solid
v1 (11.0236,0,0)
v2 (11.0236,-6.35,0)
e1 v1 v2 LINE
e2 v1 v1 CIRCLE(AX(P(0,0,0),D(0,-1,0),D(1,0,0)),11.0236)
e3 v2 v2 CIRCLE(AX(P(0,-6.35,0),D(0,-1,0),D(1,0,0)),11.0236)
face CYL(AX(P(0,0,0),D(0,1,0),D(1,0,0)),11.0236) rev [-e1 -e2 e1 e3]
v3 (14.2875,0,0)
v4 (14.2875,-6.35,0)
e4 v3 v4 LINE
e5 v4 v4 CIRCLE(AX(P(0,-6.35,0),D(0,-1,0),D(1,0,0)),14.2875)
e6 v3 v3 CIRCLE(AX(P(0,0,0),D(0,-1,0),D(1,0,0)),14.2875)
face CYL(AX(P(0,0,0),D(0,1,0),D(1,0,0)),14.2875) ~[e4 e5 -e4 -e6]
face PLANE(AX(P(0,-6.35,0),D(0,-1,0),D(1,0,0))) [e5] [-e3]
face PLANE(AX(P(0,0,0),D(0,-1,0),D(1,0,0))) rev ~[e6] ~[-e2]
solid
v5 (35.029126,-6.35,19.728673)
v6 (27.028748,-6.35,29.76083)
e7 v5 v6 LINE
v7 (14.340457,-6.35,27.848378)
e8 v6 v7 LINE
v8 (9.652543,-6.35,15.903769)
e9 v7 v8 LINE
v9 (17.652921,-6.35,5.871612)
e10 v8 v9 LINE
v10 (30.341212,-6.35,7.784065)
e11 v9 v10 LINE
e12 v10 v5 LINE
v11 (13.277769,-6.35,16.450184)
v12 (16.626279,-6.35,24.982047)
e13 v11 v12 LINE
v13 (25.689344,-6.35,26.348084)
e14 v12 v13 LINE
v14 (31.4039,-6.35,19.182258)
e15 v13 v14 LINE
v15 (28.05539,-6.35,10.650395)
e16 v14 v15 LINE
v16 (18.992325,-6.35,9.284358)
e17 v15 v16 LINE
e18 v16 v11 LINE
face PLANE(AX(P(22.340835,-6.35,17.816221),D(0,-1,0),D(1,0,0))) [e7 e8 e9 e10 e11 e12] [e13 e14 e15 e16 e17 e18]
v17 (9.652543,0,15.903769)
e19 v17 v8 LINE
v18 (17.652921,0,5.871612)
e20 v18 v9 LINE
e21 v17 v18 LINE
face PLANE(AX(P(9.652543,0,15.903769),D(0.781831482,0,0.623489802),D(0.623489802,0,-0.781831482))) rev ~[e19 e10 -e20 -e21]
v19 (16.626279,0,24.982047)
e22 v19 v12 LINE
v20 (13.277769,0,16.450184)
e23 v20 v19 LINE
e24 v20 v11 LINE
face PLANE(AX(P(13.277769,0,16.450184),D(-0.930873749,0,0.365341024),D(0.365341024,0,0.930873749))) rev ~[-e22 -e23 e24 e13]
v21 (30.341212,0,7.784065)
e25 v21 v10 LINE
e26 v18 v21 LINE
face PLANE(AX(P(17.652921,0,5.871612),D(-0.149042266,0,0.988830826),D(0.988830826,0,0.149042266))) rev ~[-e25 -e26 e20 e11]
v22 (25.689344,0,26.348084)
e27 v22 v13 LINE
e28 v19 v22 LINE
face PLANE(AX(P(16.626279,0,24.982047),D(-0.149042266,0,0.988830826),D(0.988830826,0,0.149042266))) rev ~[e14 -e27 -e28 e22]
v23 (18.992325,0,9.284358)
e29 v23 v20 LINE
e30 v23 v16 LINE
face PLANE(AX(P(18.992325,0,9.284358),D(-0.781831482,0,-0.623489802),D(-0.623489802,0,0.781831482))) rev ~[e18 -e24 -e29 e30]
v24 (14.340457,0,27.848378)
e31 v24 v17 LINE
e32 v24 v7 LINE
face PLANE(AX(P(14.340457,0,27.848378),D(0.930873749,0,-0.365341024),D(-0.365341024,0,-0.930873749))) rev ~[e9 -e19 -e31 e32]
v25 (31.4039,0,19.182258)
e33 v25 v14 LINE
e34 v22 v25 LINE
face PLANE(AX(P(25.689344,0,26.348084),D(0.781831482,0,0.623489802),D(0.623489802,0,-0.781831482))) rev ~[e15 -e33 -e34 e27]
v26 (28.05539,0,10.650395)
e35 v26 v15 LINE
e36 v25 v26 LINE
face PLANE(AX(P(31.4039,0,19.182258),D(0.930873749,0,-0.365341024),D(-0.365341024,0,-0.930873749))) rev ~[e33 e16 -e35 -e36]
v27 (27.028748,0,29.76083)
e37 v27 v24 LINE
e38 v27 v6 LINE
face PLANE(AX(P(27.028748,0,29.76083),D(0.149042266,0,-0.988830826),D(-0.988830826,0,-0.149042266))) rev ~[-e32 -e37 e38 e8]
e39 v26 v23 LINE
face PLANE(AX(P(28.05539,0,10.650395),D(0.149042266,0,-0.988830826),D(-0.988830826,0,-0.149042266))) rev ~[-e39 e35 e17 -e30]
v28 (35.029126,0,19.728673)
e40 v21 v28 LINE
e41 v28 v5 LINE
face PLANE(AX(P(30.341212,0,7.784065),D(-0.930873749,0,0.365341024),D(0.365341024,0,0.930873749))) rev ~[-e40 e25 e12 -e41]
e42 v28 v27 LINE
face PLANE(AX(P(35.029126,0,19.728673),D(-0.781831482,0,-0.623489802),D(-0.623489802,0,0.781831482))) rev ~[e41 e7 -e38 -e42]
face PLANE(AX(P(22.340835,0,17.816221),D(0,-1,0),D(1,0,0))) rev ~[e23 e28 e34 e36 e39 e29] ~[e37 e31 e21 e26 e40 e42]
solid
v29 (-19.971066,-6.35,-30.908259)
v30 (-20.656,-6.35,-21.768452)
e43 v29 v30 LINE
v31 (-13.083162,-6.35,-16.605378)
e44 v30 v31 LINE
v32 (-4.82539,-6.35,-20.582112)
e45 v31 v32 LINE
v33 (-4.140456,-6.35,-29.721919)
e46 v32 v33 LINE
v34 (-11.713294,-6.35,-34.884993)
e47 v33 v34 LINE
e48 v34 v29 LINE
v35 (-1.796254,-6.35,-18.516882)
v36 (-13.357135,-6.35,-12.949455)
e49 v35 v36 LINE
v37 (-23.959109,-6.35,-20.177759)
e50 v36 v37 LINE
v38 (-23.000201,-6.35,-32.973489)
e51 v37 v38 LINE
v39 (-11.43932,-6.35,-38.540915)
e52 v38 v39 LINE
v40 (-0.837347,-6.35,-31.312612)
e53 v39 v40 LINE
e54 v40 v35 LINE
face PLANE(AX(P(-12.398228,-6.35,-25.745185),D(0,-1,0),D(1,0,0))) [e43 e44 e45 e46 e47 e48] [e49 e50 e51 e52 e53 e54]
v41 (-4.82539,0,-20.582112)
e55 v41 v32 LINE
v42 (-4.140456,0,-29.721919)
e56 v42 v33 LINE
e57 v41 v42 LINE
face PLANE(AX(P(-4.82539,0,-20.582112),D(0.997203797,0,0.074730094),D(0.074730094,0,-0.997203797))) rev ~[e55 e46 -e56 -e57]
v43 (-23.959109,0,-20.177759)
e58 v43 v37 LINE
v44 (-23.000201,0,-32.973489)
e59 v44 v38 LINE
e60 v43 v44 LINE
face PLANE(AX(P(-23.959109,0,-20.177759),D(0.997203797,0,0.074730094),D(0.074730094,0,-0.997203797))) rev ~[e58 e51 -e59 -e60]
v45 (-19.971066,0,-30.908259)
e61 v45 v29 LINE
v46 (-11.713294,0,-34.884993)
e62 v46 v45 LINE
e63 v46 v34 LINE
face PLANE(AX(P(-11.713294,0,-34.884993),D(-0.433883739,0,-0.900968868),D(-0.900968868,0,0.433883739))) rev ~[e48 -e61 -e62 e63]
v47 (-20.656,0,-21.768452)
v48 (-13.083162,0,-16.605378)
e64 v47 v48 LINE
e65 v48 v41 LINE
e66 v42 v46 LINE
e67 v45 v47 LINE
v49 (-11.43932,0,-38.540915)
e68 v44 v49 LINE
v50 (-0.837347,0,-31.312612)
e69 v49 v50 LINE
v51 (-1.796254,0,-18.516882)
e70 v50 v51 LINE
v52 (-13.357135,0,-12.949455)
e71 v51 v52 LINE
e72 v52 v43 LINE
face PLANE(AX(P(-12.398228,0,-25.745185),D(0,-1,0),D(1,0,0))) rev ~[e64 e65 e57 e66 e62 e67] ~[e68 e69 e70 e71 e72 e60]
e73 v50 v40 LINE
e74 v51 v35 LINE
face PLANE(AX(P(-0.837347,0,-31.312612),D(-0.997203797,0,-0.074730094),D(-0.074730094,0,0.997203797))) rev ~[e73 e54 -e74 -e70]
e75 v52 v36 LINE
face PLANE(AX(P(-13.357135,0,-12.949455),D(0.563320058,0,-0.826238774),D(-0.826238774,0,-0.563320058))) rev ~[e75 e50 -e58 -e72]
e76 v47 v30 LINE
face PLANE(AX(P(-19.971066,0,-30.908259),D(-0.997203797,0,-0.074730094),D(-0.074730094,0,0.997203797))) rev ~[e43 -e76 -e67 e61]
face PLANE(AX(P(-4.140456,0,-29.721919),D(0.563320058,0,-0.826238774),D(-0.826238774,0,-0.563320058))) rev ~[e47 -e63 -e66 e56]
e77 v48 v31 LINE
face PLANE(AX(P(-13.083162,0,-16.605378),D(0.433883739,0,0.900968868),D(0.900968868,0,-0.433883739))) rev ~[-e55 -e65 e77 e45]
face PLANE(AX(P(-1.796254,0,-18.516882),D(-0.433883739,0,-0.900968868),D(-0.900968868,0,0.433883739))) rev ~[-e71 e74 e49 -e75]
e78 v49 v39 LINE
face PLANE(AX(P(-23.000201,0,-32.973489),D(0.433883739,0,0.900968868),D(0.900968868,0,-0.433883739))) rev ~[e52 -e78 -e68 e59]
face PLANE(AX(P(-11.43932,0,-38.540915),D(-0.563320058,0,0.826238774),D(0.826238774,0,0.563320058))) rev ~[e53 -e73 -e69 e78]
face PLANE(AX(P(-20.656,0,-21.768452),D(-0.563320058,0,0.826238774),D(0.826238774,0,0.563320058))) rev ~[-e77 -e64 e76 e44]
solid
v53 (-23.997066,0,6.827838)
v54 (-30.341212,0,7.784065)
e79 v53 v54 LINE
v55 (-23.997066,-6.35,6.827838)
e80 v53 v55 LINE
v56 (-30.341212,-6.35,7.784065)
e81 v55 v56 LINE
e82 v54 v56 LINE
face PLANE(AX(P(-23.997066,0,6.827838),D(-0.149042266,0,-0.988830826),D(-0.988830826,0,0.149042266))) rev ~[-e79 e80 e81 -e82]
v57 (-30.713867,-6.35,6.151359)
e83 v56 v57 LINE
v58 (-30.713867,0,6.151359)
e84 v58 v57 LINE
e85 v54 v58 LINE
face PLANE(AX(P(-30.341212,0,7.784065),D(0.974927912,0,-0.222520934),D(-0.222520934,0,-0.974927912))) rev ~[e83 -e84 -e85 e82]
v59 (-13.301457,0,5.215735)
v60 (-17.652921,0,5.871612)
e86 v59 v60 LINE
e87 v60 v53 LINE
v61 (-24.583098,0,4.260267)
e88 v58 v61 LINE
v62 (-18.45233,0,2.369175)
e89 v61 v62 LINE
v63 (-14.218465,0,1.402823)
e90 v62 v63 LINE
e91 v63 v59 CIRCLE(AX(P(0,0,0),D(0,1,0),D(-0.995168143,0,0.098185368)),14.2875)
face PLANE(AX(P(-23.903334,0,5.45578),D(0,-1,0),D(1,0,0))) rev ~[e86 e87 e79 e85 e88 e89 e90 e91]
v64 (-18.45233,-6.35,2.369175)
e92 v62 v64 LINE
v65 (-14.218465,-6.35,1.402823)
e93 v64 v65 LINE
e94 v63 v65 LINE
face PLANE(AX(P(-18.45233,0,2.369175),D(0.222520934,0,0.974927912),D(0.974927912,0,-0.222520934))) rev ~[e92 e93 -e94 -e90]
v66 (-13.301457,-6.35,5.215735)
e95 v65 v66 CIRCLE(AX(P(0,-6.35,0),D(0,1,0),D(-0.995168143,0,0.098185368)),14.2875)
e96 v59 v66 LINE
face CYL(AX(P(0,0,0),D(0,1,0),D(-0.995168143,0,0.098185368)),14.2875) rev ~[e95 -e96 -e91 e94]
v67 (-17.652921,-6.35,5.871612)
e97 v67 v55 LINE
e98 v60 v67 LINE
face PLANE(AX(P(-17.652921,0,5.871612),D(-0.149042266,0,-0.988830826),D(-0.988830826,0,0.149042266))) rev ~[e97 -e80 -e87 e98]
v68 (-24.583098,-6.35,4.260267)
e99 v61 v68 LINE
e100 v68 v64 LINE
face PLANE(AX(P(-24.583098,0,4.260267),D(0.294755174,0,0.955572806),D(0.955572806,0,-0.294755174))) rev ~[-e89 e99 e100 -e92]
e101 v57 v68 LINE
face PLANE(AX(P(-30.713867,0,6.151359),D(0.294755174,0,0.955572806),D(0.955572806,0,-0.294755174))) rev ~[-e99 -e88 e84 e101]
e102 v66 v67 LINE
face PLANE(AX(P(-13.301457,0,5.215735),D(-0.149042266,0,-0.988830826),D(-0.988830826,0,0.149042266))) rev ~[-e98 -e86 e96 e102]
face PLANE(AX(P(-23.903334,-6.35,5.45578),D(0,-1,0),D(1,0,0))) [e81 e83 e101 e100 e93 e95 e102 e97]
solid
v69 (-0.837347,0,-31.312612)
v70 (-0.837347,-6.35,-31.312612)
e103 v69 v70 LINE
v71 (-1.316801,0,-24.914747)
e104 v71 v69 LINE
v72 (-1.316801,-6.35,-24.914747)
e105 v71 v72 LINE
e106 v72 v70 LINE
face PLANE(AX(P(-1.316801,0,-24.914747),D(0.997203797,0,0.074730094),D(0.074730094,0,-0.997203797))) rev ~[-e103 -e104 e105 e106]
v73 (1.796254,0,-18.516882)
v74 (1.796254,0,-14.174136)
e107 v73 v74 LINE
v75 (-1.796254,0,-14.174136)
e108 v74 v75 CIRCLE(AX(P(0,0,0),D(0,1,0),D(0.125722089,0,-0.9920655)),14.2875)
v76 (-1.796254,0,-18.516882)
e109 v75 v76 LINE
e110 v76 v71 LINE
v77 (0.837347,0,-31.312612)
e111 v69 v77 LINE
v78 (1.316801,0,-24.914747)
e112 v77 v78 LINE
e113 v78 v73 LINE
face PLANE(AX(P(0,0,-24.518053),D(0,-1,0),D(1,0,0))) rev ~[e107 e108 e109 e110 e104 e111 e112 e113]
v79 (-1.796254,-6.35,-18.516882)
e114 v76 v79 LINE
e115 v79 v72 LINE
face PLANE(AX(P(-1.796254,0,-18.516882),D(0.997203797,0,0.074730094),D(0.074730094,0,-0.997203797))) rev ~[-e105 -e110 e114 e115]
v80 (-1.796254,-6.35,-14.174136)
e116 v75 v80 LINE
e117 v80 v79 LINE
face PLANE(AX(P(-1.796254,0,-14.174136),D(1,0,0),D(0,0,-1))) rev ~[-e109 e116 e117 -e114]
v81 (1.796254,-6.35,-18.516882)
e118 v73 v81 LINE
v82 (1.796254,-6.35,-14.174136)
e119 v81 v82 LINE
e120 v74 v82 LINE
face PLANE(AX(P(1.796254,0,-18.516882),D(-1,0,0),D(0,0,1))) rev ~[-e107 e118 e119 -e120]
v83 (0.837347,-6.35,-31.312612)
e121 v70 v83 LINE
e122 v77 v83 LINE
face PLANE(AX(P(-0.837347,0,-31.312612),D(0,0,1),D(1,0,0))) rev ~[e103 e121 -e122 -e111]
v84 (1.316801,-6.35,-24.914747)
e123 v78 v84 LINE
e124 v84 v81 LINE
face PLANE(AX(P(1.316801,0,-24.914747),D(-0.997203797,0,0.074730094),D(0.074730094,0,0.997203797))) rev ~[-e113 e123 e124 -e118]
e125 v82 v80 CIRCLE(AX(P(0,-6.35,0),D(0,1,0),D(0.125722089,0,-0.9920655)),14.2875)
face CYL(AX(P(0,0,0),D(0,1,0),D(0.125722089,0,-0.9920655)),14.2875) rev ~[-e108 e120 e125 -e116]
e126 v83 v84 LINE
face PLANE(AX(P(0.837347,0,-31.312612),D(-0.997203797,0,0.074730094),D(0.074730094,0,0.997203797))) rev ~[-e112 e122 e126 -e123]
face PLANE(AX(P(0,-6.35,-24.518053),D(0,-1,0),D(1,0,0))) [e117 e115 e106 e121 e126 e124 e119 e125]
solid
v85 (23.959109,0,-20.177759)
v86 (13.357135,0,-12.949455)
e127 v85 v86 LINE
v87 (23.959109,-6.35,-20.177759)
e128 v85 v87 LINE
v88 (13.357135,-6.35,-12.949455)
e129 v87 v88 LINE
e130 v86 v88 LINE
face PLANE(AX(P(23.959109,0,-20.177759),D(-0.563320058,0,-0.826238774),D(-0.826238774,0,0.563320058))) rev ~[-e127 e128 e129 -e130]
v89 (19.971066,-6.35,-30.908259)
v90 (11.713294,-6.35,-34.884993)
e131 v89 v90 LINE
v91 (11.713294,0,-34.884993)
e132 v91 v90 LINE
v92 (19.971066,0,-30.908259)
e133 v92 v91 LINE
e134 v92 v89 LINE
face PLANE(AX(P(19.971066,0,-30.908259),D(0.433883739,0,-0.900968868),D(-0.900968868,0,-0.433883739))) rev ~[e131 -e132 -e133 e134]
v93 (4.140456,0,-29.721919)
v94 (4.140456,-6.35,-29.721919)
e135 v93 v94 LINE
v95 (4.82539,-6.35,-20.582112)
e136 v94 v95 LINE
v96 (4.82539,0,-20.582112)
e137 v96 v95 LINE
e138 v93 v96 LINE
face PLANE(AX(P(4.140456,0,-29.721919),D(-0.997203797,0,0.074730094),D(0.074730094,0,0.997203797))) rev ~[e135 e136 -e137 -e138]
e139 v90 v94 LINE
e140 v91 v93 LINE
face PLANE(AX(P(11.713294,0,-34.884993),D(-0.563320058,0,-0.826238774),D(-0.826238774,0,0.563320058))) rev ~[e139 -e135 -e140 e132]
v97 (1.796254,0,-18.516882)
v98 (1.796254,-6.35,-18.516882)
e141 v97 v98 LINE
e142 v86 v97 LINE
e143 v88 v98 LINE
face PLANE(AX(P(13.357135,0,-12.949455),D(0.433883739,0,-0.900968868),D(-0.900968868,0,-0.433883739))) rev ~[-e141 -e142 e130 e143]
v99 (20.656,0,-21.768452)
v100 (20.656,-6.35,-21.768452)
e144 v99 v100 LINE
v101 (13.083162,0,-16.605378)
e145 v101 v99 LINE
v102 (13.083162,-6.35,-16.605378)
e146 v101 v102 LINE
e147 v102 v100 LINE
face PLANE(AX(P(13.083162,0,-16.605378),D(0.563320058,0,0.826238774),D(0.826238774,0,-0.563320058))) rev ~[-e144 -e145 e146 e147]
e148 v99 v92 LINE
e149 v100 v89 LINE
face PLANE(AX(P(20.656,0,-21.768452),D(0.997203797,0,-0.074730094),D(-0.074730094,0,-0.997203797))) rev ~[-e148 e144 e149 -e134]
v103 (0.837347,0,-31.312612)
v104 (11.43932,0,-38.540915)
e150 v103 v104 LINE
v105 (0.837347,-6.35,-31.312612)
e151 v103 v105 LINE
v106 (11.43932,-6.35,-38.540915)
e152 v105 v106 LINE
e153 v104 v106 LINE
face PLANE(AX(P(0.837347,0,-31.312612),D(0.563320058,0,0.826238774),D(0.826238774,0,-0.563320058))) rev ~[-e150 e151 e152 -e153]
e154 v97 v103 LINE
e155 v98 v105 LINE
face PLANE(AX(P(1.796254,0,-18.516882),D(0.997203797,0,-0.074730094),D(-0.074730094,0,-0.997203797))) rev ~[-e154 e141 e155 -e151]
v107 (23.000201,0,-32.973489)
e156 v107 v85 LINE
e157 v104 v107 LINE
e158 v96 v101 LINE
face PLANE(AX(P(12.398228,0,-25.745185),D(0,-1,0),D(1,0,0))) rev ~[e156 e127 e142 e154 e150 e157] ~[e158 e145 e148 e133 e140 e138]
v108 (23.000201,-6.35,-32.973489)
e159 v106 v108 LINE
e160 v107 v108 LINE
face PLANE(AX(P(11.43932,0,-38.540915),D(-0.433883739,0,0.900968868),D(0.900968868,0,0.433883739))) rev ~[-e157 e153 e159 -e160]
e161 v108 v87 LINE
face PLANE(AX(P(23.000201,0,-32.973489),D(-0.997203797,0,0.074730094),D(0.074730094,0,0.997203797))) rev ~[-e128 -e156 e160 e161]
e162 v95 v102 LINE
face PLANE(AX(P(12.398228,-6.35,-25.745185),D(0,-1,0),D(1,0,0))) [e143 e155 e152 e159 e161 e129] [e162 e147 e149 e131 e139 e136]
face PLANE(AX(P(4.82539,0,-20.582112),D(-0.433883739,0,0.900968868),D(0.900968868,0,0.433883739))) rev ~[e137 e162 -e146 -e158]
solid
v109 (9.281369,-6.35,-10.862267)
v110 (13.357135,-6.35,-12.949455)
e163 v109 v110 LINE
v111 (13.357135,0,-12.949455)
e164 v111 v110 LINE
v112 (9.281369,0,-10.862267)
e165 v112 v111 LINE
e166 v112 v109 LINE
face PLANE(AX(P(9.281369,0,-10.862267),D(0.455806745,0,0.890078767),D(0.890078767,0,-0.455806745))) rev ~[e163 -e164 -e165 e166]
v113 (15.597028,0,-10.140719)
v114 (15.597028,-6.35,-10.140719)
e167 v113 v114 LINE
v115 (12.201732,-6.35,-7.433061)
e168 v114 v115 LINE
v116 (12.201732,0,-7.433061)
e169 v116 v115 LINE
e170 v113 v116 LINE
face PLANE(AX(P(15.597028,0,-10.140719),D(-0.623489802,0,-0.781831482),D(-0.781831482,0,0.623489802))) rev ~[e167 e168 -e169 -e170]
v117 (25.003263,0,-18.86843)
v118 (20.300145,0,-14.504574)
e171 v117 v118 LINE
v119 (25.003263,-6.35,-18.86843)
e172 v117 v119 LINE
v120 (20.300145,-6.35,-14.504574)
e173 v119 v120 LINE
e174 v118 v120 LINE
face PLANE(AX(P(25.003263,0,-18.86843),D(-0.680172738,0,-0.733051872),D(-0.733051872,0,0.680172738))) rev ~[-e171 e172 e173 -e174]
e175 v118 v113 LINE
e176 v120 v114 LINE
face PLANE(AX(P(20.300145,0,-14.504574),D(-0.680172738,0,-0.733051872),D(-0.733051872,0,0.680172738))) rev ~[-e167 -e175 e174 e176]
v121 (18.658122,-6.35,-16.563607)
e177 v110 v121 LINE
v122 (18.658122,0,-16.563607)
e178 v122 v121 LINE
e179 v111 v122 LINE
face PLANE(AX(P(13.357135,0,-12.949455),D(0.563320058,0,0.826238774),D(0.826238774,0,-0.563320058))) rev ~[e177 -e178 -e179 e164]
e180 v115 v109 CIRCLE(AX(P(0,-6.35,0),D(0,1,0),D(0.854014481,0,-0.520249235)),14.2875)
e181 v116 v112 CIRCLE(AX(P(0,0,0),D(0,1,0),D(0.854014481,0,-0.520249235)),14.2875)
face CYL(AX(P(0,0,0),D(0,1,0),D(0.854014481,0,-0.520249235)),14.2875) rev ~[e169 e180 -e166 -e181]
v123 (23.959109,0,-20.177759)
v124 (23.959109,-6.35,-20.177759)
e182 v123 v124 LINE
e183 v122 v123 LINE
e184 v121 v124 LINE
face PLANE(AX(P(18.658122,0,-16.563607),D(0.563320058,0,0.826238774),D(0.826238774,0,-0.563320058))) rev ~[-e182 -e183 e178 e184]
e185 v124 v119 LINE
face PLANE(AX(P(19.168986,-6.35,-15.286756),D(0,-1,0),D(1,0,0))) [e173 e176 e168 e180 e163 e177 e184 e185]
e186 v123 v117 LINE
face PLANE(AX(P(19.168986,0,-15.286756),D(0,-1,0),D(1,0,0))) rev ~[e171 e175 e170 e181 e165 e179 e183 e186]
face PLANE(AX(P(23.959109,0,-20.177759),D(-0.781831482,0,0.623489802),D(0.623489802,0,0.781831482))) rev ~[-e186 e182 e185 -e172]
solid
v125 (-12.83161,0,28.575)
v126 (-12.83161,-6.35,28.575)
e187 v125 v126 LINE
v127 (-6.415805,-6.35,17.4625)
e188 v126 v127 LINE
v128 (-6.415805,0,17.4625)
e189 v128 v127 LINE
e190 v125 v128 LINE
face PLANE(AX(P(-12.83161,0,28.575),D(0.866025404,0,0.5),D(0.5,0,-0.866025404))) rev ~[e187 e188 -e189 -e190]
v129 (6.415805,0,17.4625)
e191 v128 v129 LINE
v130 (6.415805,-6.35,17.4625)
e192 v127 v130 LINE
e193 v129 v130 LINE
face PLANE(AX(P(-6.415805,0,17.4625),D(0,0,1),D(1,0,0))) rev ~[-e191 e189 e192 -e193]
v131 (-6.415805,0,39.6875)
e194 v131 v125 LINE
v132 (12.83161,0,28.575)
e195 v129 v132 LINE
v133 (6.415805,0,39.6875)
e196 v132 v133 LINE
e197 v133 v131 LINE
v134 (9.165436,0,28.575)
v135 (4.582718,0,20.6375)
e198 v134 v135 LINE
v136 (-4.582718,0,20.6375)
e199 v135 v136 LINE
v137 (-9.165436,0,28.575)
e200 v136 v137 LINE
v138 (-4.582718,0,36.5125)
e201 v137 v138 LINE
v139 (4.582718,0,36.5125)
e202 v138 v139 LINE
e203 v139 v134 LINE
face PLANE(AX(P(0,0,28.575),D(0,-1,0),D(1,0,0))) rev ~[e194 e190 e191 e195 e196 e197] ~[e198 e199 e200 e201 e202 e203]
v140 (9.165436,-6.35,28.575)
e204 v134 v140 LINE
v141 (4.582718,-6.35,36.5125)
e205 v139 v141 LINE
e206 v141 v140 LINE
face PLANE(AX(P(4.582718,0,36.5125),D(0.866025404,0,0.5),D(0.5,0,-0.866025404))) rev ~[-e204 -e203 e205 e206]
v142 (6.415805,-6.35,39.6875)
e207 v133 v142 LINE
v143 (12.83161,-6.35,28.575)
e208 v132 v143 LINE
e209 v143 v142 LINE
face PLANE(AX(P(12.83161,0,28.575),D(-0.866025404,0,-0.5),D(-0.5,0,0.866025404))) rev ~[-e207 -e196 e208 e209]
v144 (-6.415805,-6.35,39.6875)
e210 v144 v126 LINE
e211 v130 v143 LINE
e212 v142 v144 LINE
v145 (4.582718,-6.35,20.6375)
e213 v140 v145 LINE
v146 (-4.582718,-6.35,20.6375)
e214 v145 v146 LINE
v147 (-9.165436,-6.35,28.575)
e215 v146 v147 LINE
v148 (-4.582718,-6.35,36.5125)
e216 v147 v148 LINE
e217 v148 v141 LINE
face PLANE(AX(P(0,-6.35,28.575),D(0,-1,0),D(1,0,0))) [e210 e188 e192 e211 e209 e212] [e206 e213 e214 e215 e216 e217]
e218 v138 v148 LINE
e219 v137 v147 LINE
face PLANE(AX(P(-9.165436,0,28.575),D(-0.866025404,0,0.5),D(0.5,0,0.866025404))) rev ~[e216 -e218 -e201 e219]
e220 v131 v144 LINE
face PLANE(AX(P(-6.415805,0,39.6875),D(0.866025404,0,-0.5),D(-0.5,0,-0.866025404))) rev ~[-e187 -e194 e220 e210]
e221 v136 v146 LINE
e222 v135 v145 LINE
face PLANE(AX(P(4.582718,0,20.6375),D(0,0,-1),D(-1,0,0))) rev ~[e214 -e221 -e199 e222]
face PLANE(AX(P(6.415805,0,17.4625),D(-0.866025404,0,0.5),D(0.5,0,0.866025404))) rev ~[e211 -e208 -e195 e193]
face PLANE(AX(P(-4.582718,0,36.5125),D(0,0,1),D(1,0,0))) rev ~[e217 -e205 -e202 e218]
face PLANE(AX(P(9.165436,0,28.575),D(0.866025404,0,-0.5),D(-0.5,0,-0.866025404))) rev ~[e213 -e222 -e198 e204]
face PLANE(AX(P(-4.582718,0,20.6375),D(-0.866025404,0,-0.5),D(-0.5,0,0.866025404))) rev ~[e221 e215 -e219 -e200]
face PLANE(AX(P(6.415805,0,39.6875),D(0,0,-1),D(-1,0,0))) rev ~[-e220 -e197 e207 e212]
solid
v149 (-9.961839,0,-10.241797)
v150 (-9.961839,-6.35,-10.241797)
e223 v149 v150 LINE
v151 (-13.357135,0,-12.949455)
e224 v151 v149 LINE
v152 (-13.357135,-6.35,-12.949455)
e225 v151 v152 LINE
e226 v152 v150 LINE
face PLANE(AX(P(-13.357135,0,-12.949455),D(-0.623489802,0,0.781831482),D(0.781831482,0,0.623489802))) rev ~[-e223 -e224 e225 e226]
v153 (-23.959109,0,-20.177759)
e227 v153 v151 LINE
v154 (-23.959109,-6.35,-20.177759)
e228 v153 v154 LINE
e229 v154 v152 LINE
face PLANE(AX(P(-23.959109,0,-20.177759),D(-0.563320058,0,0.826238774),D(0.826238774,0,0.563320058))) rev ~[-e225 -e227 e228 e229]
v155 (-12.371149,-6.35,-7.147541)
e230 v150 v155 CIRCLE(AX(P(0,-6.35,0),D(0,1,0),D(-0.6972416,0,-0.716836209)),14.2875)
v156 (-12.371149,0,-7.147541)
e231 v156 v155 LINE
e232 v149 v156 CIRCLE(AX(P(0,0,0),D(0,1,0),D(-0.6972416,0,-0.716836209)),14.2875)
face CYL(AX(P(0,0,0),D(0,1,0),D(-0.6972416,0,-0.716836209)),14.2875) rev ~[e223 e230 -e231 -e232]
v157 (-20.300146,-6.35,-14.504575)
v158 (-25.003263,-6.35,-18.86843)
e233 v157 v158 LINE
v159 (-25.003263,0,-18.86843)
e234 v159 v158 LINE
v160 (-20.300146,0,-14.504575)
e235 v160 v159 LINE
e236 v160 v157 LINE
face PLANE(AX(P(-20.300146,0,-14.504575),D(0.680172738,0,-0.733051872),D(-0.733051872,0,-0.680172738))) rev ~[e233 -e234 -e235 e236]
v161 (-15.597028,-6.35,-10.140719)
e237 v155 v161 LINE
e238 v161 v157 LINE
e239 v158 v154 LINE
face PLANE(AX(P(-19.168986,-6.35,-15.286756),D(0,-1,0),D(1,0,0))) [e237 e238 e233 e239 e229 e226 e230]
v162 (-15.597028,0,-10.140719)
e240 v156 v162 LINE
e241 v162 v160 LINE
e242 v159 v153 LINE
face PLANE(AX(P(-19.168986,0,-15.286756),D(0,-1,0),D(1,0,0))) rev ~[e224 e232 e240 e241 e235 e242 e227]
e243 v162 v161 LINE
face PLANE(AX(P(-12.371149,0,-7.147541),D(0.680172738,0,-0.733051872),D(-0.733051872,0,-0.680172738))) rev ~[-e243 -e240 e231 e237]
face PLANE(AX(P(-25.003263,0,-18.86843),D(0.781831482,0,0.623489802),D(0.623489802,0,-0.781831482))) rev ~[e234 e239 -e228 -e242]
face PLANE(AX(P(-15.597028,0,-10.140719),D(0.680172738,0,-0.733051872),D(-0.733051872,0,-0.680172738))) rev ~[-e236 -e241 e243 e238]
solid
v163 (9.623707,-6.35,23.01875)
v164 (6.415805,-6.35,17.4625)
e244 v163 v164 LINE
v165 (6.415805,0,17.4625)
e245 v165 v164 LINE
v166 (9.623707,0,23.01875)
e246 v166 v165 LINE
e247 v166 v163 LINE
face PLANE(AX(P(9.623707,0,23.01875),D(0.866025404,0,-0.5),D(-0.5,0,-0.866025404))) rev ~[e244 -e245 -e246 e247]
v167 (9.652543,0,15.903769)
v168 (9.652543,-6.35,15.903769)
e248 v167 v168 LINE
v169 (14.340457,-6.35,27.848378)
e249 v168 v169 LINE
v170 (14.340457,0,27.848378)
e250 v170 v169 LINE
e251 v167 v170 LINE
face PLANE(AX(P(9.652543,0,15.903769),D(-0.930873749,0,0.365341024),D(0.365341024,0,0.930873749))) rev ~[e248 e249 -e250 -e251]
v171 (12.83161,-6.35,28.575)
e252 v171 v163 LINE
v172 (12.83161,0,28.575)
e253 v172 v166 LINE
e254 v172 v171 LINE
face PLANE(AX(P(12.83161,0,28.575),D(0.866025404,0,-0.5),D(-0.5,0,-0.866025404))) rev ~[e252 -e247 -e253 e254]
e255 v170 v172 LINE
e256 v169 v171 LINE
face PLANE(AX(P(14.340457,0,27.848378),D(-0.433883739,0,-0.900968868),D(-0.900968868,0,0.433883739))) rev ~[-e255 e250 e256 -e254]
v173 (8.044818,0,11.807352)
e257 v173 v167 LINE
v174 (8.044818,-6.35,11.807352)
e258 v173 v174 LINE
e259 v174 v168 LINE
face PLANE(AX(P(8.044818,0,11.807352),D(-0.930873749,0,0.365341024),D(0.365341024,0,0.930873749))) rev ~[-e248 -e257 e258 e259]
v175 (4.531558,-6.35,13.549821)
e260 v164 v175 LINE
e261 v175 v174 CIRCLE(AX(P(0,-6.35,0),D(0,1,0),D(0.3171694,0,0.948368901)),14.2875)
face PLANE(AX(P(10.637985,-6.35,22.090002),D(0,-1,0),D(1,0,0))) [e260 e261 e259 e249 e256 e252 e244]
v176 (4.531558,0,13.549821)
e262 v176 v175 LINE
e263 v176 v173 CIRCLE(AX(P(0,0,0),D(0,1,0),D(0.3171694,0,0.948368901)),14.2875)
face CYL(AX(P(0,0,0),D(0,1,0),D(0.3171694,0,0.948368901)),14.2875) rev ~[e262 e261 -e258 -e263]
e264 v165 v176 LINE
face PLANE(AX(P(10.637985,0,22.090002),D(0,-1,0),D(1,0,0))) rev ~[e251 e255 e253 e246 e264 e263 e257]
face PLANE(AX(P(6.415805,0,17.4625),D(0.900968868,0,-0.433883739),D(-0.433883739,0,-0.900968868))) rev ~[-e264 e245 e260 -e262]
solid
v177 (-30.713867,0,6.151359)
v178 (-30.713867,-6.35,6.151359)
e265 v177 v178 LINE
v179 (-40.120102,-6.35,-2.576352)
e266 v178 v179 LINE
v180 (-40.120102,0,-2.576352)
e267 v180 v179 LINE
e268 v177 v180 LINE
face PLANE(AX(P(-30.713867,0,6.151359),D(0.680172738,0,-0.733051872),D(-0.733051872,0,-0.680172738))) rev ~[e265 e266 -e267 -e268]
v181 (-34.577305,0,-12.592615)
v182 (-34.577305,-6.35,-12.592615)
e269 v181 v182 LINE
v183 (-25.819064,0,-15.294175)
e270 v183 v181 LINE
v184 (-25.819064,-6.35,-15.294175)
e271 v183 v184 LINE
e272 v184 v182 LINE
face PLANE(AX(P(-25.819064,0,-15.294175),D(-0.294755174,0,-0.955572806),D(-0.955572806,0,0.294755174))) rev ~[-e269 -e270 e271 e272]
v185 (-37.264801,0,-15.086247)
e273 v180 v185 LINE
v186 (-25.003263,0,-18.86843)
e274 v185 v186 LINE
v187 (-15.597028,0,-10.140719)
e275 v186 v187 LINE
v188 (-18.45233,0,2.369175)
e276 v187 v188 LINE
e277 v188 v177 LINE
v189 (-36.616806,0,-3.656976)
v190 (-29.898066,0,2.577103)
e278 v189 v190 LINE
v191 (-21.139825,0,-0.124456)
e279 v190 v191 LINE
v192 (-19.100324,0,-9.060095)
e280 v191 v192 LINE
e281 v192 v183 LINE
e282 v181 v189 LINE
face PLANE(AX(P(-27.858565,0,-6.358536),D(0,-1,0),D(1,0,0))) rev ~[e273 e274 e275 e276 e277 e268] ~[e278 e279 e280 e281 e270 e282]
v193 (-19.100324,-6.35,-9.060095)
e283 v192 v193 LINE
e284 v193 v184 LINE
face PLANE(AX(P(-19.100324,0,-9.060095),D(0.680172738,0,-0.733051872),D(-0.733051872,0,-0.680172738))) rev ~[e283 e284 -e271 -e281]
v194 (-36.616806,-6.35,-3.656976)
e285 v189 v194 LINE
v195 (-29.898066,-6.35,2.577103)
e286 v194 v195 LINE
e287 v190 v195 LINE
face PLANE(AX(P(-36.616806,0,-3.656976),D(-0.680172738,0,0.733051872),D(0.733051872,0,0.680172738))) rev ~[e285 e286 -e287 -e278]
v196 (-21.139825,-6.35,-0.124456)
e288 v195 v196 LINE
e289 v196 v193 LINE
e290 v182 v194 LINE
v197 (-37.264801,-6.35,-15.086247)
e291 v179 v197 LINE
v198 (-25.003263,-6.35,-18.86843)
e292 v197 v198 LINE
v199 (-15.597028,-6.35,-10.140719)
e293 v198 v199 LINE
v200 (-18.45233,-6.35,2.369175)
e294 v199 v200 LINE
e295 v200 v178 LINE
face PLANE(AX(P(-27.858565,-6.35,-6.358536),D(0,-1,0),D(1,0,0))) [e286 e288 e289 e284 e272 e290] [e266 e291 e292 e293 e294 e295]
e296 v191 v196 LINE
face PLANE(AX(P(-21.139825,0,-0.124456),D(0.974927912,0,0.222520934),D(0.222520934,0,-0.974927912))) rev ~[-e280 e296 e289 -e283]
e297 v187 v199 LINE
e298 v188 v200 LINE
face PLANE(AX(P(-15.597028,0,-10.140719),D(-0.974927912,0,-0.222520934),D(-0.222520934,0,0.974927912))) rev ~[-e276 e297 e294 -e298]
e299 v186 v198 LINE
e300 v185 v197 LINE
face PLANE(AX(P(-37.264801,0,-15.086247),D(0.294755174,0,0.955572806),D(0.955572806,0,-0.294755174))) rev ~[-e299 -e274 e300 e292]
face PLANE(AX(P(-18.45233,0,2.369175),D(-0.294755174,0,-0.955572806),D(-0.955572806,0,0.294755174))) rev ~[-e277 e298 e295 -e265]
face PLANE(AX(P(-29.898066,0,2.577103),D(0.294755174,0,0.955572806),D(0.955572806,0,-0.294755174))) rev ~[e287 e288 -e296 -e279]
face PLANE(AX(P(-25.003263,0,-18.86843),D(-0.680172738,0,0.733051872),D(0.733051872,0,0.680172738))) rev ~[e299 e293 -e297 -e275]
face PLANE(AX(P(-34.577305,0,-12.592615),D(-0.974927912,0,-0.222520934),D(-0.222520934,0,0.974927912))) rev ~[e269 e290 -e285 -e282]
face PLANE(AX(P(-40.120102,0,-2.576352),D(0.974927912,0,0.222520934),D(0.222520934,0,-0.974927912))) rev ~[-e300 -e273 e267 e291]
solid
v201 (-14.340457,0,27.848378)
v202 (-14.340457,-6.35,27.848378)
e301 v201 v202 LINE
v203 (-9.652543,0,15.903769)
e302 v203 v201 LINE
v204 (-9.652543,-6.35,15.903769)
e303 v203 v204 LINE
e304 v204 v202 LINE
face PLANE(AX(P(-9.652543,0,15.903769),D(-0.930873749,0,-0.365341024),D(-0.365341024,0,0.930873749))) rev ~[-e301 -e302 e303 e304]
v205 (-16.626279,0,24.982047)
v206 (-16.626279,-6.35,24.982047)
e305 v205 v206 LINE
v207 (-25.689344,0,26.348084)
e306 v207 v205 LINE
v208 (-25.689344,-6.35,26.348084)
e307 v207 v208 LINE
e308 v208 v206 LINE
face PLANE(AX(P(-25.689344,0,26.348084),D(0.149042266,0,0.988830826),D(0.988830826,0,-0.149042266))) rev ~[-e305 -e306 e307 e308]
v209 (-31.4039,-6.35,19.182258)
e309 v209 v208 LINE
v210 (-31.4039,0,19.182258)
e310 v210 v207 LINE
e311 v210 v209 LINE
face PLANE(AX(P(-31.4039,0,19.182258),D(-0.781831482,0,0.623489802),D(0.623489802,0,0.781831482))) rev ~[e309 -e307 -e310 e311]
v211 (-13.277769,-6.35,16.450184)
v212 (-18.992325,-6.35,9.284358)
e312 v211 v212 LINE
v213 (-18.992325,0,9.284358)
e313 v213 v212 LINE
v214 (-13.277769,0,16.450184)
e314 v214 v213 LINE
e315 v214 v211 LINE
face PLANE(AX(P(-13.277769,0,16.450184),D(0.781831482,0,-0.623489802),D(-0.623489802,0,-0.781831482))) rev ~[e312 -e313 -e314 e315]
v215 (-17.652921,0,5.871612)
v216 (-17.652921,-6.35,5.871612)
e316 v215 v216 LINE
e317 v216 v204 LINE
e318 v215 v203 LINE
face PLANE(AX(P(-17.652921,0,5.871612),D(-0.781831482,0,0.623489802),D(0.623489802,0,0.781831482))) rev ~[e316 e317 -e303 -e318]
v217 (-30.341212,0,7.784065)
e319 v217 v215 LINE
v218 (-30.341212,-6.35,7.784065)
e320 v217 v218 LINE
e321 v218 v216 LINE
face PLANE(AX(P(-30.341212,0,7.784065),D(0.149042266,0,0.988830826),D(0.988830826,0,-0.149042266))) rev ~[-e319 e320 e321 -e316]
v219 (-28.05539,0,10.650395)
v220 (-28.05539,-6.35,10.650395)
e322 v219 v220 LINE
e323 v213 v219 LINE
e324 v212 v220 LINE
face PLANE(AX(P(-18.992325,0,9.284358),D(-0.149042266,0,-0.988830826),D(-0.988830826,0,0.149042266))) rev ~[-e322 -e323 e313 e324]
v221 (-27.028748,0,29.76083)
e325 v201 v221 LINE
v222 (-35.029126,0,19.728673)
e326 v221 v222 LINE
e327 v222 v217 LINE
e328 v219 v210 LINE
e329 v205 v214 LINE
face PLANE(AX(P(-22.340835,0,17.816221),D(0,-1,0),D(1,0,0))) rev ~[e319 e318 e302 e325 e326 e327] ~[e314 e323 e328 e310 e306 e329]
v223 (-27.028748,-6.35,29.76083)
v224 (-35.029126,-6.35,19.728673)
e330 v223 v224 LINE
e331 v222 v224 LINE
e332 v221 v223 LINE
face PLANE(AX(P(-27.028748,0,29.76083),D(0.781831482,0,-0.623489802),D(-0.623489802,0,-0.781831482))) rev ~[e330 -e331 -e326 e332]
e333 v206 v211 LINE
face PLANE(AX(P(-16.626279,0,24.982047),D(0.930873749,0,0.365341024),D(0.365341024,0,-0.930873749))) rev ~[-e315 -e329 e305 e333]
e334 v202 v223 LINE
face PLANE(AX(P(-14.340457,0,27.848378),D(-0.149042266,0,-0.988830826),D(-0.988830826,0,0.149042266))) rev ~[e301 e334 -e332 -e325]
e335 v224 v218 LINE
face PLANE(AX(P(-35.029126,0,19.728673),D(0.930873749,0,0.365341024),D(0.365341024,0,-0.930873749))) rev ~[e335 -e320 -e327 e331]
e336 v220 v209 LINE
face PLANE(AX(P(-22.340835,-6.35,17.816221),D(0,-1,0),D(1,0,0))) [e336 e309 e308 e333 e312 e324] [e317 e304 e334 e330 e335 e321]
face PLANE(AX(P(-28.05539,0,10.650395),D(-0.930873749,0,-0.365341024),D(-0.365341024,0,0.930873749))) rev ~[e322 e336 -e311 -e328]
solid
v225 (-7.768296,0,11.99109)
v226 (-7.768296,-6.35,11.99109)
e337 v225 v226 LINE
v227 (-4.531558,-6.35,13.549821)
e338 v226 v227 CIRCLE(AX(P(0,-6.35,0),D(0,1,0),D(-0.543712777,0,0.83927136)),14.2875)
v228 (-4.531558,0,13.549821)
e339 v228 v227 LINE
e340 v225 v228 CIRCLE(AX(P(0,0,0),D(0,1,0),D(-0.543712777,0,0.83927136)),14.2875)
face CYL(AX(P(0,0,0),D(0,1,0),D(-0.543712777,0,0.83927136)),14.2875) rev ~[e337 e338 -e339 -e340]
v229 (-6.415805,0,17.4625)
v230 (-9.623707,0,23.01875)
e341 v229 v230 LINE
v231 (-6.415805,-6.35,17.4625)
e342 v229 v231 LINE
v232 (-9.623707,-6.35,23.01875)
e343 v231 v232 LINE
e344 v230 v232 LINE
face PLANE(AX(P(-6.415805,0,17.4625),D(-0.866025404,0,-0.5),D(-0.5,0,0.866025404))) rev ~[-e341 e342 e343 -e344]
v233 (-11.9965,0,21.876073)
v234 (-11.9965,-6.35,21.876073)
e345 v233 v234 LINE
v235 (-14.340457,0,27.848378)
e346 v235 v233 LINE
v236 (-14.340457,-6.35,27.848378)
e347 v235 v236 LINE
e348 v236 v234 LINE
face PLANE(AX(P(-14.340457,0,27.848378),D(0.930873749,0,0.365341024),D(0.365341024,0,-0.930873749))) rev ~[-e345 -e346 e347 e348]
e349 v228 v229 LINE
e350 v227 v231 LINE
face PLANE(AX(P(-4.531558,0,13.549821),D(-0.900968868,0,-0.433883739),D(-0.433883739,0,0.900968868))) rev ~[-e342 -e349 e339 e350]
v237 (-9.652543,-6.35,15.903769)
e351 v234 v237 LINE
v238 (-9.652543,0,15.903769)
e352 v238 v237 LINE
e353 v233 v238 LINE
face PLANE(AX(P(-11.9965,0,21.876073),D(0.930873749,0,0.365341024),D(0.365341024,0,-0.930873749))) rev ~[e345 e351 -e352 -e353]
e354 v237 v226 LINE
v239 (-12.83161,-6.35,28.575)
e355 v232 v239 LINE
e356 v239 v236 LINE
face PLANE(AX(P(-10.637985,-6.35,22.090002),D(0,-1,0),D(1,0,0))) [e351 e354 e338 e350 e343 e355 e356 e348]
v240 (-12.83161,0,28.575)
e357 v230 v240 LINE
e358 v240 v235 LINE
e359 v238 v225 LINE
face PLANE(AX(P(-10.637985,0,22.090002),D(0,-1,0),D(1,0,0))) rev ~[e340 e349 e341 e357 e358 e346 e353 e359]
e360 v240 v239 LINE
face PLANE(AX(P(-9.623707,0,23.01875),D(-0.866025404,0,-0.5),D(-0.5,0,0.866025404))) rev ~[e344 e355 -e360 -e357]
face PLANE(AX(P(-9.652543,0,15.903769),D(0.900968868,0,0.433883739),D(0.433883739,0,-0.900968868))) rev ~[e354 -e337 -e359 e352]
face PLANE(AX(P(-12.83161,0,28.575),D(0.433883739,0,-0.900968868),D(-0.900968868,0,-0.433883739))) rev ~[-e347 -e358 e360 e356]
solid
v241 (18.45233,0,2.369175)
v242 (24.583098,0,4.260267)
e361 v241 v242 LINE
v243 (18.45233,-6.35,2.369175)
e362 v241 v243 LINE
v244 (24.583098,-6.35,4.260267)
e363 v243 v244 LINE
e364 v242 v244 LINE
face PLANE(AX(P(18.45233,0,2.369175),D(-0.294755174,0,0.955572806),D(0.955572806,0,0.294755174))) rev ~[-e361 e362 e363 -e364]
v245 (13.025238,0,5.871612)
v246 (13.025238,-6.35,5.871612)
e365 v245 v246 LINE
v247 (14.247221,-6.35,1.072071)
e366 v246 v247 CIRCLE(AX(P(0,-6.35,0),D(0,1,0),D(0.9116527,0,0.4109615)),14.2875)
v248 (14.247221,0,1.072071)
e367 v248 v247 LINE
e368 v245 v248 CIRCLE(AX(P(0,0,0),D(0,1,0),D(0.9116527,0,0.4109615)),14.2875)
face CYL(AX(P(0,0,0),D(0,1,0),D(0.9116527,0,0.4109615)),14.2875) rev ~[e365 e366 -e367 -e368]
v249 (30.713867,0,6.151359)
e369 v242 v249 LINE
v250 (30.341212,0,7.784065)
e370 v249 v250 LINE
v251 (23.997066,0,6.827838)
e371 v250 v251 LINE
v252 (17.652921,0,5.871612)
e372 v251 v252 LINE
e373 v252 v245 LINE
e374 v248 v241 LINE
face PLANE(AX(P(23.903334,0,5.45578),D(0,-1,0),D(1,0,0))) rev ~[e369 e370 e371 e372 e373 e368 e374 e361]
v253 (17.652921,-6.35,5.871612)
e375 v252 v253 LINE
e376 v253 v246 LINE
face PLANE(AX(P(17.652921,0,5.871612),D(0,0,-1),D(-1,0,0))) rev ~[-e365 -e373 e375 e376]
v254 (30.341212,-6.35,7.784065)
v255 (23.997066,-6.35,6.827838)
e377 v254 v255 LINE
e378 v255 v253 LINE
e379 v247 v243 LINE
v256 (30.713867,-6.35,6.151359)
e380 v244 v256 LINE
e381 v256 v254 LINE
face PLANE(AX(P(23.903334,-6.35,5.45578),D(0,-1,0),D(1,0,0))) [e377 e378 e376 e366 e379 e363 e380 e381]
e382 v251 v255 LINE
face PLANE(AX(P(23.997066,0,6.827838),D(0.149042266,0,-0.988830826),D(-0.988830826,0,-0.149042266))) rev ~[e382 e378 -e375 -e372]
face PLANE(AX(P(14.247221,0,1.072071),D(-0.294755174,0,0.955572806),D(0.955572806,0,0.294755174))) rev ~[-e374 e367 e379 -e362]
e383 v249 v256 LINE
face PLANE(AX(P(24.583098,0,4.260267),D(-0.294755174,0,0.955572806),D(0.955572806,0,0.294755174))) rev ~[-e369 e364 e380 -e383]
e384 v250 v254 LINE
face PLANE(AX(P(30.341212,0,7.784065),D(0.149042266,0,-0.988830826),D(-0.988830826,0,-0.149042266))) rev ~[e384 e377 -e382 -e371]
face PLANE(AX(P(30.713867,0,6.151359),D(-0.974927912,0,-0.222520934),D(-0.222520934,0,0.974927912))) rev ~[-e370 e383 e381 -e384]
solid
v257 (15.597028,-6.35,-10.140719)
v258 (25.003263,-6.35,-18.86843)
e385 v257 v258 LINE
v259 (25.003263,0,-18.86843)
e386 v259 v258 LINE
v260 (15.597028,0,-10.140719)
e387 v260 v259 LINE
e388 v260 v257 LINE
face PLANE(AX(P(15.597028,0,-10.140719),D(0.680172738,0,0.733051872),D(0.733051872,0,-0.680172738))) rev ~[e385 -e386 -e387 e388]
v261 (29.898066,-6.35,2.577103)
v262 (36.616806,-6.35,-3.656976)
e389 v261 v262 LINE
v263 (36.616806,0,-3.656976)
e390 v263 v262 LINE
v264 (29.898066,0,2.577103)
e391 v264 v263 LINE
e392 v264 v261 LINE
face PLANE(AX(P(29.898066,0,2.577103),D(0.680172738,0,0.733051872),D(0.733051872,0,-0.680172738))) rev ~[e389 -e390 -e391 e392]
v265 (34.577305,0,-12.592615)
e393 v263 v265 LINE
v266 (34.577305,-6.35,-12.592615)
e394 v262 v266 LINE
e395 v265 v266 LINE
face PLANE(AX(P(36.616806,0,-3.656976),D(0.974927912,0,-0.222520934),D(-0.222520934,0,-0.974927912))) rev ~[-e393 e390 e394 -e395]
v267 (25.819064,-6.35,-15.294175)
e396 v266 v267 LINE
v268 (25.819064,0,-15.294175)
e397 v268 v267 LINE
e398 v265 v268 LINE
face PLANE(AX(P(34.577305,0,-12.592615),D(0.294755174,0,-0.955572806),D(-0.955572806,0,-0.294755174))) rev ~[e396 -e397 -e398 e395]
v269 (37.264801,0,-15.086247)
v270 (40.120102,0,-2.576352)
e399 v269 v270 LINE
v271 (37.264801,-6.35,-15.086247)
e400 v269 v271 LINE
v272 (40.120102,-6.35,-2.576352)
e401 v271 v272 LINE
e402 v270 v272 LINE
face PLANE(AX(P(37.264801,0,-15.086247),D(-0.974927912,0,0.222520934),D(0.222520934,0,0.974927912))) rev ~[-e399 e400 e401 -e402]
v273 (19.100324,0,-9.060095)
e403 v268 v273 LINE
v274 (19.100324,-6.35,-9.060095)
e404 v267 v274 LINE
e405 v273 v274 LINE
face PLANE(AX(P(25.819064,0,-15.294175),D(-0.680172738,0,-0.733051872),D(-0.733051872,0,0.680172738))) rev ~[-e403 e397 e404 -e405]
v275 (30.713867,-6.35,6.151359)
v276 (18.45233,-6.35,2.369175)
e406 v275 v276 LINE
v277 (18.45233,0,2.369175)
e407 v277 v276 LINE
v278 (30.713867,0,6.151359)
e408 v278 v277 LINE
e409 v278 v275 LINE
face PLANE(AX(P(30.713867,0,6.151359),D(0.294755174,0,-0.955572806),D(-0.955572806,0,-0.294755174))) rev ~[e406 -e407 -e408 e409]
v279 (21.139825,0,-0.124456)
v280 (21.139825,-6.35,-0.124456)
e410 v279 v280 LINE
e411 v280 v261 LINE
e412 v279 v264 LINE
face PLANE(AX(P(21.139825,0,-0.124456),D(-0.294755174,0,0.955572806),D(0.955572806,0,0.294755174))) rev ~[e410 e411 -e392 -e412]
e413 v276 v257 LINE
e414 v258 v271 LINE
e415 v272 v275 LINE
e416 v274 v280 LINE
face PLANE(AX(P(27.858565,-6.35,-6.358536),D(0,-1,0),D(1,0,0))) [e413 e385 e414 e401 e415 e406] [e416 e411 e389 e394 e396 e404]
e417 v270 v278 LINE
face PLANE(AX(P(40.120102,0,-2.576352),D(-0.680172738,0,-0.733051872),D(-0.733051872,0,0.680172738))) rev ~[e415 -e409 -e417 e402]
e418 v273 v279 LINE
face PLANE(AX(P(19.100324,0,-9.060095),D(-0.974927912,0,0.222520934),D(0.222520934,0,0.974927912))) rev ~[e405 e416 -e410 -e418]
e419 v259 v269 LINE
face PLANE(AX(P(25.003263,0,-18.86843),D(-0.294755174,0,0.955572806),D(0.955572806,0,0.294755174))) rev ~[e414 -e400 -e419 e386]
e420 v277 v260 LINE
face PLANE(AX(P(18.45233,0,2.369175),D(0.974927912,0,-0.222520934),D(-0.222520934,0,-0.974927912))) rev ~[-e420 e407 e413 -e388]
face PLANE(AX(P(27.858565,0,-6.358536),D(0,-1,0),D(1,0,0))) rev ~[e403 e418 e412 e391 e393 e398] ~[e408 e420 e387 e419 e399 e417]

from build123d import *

# Parameters (mm, degrees)
F0_R     = 14.2875
F0_R_2   = 11.0236
F2_DEPTH = 6.35


with BuildPart() as f2:
    # F0 (on Front) → F2 (new body)
    with BuildSketch(Plane.XZ):
        Circle(F0_R)
        Circle(F0_R_2, mode=Mode.SUBTRACT)
    extrude(amount=F2_DEPTH)


with BuildPart() as f2b:
    # F0 (on Front) → F2, piece 2 (new body)
    with BuildSketch(Plane.XZ):
        Polygon((-6.4158048664, 17.4625), (6.4158048664, 17.4625), (12.8316097327, 28.575), (6.4158048664, 39.6875), (-6.4158048664, 39.6875), (-12.8316097327, 28.575), align=None)
        Polygon((9.1654355234, 28.575), (4.5827177617, 20.6375), (-4.5827177617, 20.6375), (-9.1654355234, 28.575), (-4.5827177617, 36.5125), (4.5827177617, 36.5125), align=None, mode=Mode.SUBTRACT)
    extrude(amount=F2_DEPTH)


with BuildPart() as f2c:
    # F0 (on Front) → F2, piece 3 (new body)
    with BuildSketch(Plane.XZ):
        Polygon((-9.6525433577, 15.9037688949), (-14.3404568017, 27.8483775479), (-27.0287480556, 29.7608297412), (-35.0291258653, 19.7286732814), (-30.3412124213, 7.7840646283), (-17.6529211675, 5.8716124351), align=None)
        Polygon((-16.6262790331, 24.9820471308), (-13.2777694302, 16.4501838072), (-18.9923250086, 9.2843577645), (-28.0553901899, 10.6503950454), (-31.4038997928, 19.182258369), (-25.6893442144, 26.3480844117), align=None, mode=Mode.SUBTRACT)
    extrude(amount=F2_DEPTH)


with BuildPart() as f2d:
    # F0 (on Front) → F2, piece 4 (new body)
    with BuildSketch(Plane.XZ):
        Polygon((-18.4523295574, 2.3691754341), (-30.7138668725, 6.1513587989), (-40.1201024057, -2.5763523231), (-37.2648006238, -15.0862468097), (-25.0032633087, -18.8684301745), (-15.5970277755, -10.1407190525), align=None)
        Polygon((-29.8980663634, 2.5771032312), (-21.139825424, -0.124456315), (-19.1003241513, -9.060095234), (-25.8190638178, -15.2941746069), (-34.5773047571, -12.5926150606), (-36.6168060299, -3.6569761416), align=None, mode=Mode.SUBTRACT)
    extrude(amount=F2_DEPTH)


with BuildPart() as f2e:
    # F0 (on Front) → F2, piece 5 (new body)
    with BuildSketch(Plane.XZ):
        Polygon((-13.3571352415, -12.9494554509), (-23.9591087396, -20.1777585906), (-23.0002013434, -32.97348854), (-11.4393204491, -38.5409153497), (-0.837346951, -31.31261221), (-1.7962543472, -18.5168822606), align=None)
        Polygon((-20.6559999126, -21.7684519648), (-13.0831616997, -16.6053782936), (-4.8253896324, -20.5821117291), (-4.1404557779, -29.7219188358), (-11.7132939909, -34.8849925071), (-19.9710660582, -30.9082590715), align=None, mode=Mode.SUBTRACT)
    extrude(amount=F2_DEPTH)


with BuildPart() as f2f:
    # F0 (on Front) → F2, piece 6 (new body)
    with BuildSketch(Plane.XZ):
        Polygon((1.7962543472, -18.5168822606), (0.837346951, -31.31261221), (11.4393204491, -38.5409153497), (23.0002013434, -32.97348854), (23.9591087396, -20.1777585906), (13.3571352415, -12.9494554509), align=None)
        Polygon((4.1404557779, -29.7219188358), (4.8253896324, -20.5821117291), (13.0831616997, -16.6053782936), (20.6559999126, -21.7684519648), (19.9710660582, -30.9082590715), (11.7132939909, -34.8849925071), align=None, mode=Mode.SUBTRACT)
    extrude(amount=F2_DEPTH)


with BuildPart() as f2g:
    # F0 (on Front) → F2, piece 7 (new body)
    with BuildSketch(Plane.XZ):
        Polygon((15.5970277755, -10.1407190525), (25.0032633087, -18.8684301745), (37.2648006238, -15.0862468097), (40.1201024057, -2.5763523231), (30.7138668725, 6.1513587989), (18.4523295574, 2.3691754341), align=None)
        Polygon((25.8190638178, -15.2941746069), (19.1003241513, -9.060095234), (21.139825424, -0.124456315), (29.8980663634, 2.5771032312), (36.6168060299, -3.6569761416), (34.5773047571, -12.5926150606), align=None, mode=Mode.SUBTRACT)
    extrude(amount=F2_DEPTH)


with BuildPart() as f2h:
    # F0 (on Front) → F2, piece 8 (new body)
    with BuildSketch(Plane.XZ):
        Polygon((17.6529211675, 5.8716124351), (30.3412124213, 7.7840646283), (35.0291258653, 19.7286732814), (27.0287480556, 29.7608297412), (14.3404568017, 27.8483775479), (9.6525433577, 15.9037688949), align=None)
        Polygon((28.0553901899, 10.6503950454), (18.9923250086, 9.2843577645), (13.2777694302, 16.4501838072), (16.6262790331, 24.9820471308), (25.6893442144, 26.3480844117), (31.4038997928, 19.182258369), align=None, mode=Mode.SUBTRACT)
    extrude(amount=F2_DEPTH)


with BuildPart() as f2i:
    # F1 (on Front) → F2, piece 9 (new body)
    with BuildSketch(Plane.XZ):
        Polygon((-18.4523295574, 2.3691754341), (-17.6529211675, 5.8716124351), (-23.9970658214, 6.827838385), (-30.3412124213, 7.7840646283), (-30.7138668725, 6.1513587989), (-24.583098291, 4.26026714), align=None)
        with BuildLine():
            ThreePointArc((-14.2184648482, 1.4028234428), (-13.8914038987, 3.3408911946), (-13.3014573203, 5.2157347907))
            Line((-13.3014573203, 5.2157347907), (-17.6529211675, 5.8716124351))
            Line((-17.6529211675, 5.8716124351), (-18.4523295574, 2.3691754341))
            Line((-18.4523295574, 2.3691754341), (-14.2184648482, 1.4028234428))
        make_face()
    extrude(amount=F2_DEPTH)


with BuildPart() as f2j:
    # F1 (on Front) → F2, piece 10 (new body)
    with BuildSketch(Plane.XZ):
        Polygon((-6.4158048664, 17.4625), (-9.6237072576, 23.0187499274), (-12.8316097327, 28.575), (-14.3404568017, 27.8483775479), (-11.9965000414, 21.8760731238), (-9.6525433577, 15.9037688949), align=None)
        with BuildLine():
            ThreePointArc((-7.768296299, 11.991089561), (-6.1991139226, 12.8725927002), (-4.5315578077, 13.5498206662))
            Line((-4.5315578077, 13.5498206662), (-6.4158048664, 17.4625))
            Line((-6.4158048664, 17.4625), (-9.6525433577, 15.9037688949))
            Line((-9.6525433577, 15.9037688949), (-7.768296299, 11.991089561))
        make_face()
    extrude(amount=F2_DEPTH)


with BuildPart() as f2k:
    # F1 (on Front) → F2, piece 11 (new body)
    with BuildSketch(Plane.XZ):
        Polygon((9.6525433577, 15.9037688949), (11.9965000952, 21.8760732609), (14.3404568017, 27.8483775479), (12.8316097327, 28.575), (9.623707221, 23.018749864), (6.4158048664, 17.4625), align=None)
        with BuildLine():
            Line((8.0448181359, 11.8073518373), (9.6525433577, 15.9037688949))
            Line((9.6525433577, 15.9037688949), (6.4158048664, 17.4625))
            Line((6.4158048664, 17.4625), (4.5315578077, 13.5498206662))
            ThreePointArc((4.5315578077, 13.5498206662), (6.3482562467, 12.7996991713), (8.0448181359, 11.8073518373))
        make_face()
    extrude(amount=F2_DEPTH)


with BuildPart() as f2l:
    # F1 (on Front) → F2, piece 12 (new body)
    with BuildSketch(Plane.XZ):
        Polygon((17.6529211675, 5.8716124351), (18.4523295574, 2.3691754341), (24.583098204, 4.2602671131), (30.7138668725, 6.1513587989), (30.3412124213, 7.7840646283), (23.9970657427, 6.8278383732), align=None)
        with BuildLine():
            Line((14.2472214565, 1.0720713682), (18.4523295574, 2.3691754341))
            Line((18.4523295574, 2.3691754341), (17.6529211675, 5.8716124351))
            Line((17.6529211675, 5.8716124351), (13.0252379503, 5.8716124351))
            ThreePointArc((13.0252379503, 5.8716124351), (13.8457812758, 3.5251946205), (14.2472214565, 1.0720713682))
        make_face()
    extrude(amount=F2_DEPTH)


with BuildPart() as f2m:
    # F1 (on Front) → F2, piece 13 (new body)
    with BuildSketch(Plane.XZ):
        Polygon((25.0032633087, -18.8684301745), (20.3001454143, -14.5045744949), (15.5970277755, -10.1407190525), (13.3571352415, -12.9494554509), (18.6581221223, -16.5636071106), (23.9591087396, -20.1777585906), align=None)
        with BuildLine():
            Line((13.3571352415, -12.9494554509), (15.5970277755, -10.1407190525))
            Line((15.5970277755, -10.1407190525), (12.2017318969, -7.4330609419))
            ThreePointArc((12.2017318969, -7.4330609419), (10.8775349791, -9.2634706794), (9.2813687339, -10.8622672898))
            Line((9.2813687339, -10.8622672898), (13.3571352415, -12.9494554509))
        make_face()
    extrude(amount=F2_DEPTH)


with BuildPart() as f2n:
    # F1 (on Front) → F2, piece 14 (new body)
    with BuildSketch(Plane.XZ):
        Polygon((0.837346951, -31.31261221), (1.3168006488, -24.9147472398), (1.7962543472, -18.5168822606), (-1.7962543472, -18.5168822606), (-1.3168006489, -24.9147472385), (-0.837346951, -31.31261221), align=None)
        with BuildLine():
            Line((-1.7962543472, -18.5168822606), (1.7962543472, -18.5168822606))
            Line((1.7962543472, -18.5168822606), (1.7962543472, -14.1741358315))
            ThreePointArc((1.7962543472, -14.1741358315), (0, -14.2875), (-1.7962543472, -14.1741358315))
            Line((-1.7962543472, -14.1741358315), (-1.7962543472, -18.5168822606))
        make_face()
    extrude(amount=F2_DEPTH)


with BuildPart() as f2o:
    # F1 (on Front) → F2, piece 15 (new body)
    with BuildSketch(Plane.XZ):
        Polygon((-23.9591087396, -20.1777585906), (-18.6581221549, -16.5636071328), (-13.3571352415, -12.9494554509), (-15.5970277755, -10.1407190525), (-20.3001455485, -14.5045746194), (-25.0032633087, -18.8684301745), align=None)
        with BuildLine():
            Line((-13.3571352415, -12.9494554509), (-9.9618393628, -10.2417973403))
            ThreePointArc((-9.9618393628, -10.2417973403), (-11.2731625797, -8.7777253147), (-12.3711486526, -7.1475406445))
            Line((-12.3711486526, -7.1475406445), (-15.5970277755, -10.1407190525))
            Line((-15.5970277755, -10.1407190525), (-13.3571352415, -12.9494554509))
        make_face()
    extrude(amount=F2_DEPTH)


solid = Compound([f2.part, f2b.part, f2c.part, f2d.part, f2e.part, f2f.part, f2g.part, f2h.part, f2i.part, f2j.part, f2k.part, f2l.part, f2m.part, f2n.part, f2o.part])
